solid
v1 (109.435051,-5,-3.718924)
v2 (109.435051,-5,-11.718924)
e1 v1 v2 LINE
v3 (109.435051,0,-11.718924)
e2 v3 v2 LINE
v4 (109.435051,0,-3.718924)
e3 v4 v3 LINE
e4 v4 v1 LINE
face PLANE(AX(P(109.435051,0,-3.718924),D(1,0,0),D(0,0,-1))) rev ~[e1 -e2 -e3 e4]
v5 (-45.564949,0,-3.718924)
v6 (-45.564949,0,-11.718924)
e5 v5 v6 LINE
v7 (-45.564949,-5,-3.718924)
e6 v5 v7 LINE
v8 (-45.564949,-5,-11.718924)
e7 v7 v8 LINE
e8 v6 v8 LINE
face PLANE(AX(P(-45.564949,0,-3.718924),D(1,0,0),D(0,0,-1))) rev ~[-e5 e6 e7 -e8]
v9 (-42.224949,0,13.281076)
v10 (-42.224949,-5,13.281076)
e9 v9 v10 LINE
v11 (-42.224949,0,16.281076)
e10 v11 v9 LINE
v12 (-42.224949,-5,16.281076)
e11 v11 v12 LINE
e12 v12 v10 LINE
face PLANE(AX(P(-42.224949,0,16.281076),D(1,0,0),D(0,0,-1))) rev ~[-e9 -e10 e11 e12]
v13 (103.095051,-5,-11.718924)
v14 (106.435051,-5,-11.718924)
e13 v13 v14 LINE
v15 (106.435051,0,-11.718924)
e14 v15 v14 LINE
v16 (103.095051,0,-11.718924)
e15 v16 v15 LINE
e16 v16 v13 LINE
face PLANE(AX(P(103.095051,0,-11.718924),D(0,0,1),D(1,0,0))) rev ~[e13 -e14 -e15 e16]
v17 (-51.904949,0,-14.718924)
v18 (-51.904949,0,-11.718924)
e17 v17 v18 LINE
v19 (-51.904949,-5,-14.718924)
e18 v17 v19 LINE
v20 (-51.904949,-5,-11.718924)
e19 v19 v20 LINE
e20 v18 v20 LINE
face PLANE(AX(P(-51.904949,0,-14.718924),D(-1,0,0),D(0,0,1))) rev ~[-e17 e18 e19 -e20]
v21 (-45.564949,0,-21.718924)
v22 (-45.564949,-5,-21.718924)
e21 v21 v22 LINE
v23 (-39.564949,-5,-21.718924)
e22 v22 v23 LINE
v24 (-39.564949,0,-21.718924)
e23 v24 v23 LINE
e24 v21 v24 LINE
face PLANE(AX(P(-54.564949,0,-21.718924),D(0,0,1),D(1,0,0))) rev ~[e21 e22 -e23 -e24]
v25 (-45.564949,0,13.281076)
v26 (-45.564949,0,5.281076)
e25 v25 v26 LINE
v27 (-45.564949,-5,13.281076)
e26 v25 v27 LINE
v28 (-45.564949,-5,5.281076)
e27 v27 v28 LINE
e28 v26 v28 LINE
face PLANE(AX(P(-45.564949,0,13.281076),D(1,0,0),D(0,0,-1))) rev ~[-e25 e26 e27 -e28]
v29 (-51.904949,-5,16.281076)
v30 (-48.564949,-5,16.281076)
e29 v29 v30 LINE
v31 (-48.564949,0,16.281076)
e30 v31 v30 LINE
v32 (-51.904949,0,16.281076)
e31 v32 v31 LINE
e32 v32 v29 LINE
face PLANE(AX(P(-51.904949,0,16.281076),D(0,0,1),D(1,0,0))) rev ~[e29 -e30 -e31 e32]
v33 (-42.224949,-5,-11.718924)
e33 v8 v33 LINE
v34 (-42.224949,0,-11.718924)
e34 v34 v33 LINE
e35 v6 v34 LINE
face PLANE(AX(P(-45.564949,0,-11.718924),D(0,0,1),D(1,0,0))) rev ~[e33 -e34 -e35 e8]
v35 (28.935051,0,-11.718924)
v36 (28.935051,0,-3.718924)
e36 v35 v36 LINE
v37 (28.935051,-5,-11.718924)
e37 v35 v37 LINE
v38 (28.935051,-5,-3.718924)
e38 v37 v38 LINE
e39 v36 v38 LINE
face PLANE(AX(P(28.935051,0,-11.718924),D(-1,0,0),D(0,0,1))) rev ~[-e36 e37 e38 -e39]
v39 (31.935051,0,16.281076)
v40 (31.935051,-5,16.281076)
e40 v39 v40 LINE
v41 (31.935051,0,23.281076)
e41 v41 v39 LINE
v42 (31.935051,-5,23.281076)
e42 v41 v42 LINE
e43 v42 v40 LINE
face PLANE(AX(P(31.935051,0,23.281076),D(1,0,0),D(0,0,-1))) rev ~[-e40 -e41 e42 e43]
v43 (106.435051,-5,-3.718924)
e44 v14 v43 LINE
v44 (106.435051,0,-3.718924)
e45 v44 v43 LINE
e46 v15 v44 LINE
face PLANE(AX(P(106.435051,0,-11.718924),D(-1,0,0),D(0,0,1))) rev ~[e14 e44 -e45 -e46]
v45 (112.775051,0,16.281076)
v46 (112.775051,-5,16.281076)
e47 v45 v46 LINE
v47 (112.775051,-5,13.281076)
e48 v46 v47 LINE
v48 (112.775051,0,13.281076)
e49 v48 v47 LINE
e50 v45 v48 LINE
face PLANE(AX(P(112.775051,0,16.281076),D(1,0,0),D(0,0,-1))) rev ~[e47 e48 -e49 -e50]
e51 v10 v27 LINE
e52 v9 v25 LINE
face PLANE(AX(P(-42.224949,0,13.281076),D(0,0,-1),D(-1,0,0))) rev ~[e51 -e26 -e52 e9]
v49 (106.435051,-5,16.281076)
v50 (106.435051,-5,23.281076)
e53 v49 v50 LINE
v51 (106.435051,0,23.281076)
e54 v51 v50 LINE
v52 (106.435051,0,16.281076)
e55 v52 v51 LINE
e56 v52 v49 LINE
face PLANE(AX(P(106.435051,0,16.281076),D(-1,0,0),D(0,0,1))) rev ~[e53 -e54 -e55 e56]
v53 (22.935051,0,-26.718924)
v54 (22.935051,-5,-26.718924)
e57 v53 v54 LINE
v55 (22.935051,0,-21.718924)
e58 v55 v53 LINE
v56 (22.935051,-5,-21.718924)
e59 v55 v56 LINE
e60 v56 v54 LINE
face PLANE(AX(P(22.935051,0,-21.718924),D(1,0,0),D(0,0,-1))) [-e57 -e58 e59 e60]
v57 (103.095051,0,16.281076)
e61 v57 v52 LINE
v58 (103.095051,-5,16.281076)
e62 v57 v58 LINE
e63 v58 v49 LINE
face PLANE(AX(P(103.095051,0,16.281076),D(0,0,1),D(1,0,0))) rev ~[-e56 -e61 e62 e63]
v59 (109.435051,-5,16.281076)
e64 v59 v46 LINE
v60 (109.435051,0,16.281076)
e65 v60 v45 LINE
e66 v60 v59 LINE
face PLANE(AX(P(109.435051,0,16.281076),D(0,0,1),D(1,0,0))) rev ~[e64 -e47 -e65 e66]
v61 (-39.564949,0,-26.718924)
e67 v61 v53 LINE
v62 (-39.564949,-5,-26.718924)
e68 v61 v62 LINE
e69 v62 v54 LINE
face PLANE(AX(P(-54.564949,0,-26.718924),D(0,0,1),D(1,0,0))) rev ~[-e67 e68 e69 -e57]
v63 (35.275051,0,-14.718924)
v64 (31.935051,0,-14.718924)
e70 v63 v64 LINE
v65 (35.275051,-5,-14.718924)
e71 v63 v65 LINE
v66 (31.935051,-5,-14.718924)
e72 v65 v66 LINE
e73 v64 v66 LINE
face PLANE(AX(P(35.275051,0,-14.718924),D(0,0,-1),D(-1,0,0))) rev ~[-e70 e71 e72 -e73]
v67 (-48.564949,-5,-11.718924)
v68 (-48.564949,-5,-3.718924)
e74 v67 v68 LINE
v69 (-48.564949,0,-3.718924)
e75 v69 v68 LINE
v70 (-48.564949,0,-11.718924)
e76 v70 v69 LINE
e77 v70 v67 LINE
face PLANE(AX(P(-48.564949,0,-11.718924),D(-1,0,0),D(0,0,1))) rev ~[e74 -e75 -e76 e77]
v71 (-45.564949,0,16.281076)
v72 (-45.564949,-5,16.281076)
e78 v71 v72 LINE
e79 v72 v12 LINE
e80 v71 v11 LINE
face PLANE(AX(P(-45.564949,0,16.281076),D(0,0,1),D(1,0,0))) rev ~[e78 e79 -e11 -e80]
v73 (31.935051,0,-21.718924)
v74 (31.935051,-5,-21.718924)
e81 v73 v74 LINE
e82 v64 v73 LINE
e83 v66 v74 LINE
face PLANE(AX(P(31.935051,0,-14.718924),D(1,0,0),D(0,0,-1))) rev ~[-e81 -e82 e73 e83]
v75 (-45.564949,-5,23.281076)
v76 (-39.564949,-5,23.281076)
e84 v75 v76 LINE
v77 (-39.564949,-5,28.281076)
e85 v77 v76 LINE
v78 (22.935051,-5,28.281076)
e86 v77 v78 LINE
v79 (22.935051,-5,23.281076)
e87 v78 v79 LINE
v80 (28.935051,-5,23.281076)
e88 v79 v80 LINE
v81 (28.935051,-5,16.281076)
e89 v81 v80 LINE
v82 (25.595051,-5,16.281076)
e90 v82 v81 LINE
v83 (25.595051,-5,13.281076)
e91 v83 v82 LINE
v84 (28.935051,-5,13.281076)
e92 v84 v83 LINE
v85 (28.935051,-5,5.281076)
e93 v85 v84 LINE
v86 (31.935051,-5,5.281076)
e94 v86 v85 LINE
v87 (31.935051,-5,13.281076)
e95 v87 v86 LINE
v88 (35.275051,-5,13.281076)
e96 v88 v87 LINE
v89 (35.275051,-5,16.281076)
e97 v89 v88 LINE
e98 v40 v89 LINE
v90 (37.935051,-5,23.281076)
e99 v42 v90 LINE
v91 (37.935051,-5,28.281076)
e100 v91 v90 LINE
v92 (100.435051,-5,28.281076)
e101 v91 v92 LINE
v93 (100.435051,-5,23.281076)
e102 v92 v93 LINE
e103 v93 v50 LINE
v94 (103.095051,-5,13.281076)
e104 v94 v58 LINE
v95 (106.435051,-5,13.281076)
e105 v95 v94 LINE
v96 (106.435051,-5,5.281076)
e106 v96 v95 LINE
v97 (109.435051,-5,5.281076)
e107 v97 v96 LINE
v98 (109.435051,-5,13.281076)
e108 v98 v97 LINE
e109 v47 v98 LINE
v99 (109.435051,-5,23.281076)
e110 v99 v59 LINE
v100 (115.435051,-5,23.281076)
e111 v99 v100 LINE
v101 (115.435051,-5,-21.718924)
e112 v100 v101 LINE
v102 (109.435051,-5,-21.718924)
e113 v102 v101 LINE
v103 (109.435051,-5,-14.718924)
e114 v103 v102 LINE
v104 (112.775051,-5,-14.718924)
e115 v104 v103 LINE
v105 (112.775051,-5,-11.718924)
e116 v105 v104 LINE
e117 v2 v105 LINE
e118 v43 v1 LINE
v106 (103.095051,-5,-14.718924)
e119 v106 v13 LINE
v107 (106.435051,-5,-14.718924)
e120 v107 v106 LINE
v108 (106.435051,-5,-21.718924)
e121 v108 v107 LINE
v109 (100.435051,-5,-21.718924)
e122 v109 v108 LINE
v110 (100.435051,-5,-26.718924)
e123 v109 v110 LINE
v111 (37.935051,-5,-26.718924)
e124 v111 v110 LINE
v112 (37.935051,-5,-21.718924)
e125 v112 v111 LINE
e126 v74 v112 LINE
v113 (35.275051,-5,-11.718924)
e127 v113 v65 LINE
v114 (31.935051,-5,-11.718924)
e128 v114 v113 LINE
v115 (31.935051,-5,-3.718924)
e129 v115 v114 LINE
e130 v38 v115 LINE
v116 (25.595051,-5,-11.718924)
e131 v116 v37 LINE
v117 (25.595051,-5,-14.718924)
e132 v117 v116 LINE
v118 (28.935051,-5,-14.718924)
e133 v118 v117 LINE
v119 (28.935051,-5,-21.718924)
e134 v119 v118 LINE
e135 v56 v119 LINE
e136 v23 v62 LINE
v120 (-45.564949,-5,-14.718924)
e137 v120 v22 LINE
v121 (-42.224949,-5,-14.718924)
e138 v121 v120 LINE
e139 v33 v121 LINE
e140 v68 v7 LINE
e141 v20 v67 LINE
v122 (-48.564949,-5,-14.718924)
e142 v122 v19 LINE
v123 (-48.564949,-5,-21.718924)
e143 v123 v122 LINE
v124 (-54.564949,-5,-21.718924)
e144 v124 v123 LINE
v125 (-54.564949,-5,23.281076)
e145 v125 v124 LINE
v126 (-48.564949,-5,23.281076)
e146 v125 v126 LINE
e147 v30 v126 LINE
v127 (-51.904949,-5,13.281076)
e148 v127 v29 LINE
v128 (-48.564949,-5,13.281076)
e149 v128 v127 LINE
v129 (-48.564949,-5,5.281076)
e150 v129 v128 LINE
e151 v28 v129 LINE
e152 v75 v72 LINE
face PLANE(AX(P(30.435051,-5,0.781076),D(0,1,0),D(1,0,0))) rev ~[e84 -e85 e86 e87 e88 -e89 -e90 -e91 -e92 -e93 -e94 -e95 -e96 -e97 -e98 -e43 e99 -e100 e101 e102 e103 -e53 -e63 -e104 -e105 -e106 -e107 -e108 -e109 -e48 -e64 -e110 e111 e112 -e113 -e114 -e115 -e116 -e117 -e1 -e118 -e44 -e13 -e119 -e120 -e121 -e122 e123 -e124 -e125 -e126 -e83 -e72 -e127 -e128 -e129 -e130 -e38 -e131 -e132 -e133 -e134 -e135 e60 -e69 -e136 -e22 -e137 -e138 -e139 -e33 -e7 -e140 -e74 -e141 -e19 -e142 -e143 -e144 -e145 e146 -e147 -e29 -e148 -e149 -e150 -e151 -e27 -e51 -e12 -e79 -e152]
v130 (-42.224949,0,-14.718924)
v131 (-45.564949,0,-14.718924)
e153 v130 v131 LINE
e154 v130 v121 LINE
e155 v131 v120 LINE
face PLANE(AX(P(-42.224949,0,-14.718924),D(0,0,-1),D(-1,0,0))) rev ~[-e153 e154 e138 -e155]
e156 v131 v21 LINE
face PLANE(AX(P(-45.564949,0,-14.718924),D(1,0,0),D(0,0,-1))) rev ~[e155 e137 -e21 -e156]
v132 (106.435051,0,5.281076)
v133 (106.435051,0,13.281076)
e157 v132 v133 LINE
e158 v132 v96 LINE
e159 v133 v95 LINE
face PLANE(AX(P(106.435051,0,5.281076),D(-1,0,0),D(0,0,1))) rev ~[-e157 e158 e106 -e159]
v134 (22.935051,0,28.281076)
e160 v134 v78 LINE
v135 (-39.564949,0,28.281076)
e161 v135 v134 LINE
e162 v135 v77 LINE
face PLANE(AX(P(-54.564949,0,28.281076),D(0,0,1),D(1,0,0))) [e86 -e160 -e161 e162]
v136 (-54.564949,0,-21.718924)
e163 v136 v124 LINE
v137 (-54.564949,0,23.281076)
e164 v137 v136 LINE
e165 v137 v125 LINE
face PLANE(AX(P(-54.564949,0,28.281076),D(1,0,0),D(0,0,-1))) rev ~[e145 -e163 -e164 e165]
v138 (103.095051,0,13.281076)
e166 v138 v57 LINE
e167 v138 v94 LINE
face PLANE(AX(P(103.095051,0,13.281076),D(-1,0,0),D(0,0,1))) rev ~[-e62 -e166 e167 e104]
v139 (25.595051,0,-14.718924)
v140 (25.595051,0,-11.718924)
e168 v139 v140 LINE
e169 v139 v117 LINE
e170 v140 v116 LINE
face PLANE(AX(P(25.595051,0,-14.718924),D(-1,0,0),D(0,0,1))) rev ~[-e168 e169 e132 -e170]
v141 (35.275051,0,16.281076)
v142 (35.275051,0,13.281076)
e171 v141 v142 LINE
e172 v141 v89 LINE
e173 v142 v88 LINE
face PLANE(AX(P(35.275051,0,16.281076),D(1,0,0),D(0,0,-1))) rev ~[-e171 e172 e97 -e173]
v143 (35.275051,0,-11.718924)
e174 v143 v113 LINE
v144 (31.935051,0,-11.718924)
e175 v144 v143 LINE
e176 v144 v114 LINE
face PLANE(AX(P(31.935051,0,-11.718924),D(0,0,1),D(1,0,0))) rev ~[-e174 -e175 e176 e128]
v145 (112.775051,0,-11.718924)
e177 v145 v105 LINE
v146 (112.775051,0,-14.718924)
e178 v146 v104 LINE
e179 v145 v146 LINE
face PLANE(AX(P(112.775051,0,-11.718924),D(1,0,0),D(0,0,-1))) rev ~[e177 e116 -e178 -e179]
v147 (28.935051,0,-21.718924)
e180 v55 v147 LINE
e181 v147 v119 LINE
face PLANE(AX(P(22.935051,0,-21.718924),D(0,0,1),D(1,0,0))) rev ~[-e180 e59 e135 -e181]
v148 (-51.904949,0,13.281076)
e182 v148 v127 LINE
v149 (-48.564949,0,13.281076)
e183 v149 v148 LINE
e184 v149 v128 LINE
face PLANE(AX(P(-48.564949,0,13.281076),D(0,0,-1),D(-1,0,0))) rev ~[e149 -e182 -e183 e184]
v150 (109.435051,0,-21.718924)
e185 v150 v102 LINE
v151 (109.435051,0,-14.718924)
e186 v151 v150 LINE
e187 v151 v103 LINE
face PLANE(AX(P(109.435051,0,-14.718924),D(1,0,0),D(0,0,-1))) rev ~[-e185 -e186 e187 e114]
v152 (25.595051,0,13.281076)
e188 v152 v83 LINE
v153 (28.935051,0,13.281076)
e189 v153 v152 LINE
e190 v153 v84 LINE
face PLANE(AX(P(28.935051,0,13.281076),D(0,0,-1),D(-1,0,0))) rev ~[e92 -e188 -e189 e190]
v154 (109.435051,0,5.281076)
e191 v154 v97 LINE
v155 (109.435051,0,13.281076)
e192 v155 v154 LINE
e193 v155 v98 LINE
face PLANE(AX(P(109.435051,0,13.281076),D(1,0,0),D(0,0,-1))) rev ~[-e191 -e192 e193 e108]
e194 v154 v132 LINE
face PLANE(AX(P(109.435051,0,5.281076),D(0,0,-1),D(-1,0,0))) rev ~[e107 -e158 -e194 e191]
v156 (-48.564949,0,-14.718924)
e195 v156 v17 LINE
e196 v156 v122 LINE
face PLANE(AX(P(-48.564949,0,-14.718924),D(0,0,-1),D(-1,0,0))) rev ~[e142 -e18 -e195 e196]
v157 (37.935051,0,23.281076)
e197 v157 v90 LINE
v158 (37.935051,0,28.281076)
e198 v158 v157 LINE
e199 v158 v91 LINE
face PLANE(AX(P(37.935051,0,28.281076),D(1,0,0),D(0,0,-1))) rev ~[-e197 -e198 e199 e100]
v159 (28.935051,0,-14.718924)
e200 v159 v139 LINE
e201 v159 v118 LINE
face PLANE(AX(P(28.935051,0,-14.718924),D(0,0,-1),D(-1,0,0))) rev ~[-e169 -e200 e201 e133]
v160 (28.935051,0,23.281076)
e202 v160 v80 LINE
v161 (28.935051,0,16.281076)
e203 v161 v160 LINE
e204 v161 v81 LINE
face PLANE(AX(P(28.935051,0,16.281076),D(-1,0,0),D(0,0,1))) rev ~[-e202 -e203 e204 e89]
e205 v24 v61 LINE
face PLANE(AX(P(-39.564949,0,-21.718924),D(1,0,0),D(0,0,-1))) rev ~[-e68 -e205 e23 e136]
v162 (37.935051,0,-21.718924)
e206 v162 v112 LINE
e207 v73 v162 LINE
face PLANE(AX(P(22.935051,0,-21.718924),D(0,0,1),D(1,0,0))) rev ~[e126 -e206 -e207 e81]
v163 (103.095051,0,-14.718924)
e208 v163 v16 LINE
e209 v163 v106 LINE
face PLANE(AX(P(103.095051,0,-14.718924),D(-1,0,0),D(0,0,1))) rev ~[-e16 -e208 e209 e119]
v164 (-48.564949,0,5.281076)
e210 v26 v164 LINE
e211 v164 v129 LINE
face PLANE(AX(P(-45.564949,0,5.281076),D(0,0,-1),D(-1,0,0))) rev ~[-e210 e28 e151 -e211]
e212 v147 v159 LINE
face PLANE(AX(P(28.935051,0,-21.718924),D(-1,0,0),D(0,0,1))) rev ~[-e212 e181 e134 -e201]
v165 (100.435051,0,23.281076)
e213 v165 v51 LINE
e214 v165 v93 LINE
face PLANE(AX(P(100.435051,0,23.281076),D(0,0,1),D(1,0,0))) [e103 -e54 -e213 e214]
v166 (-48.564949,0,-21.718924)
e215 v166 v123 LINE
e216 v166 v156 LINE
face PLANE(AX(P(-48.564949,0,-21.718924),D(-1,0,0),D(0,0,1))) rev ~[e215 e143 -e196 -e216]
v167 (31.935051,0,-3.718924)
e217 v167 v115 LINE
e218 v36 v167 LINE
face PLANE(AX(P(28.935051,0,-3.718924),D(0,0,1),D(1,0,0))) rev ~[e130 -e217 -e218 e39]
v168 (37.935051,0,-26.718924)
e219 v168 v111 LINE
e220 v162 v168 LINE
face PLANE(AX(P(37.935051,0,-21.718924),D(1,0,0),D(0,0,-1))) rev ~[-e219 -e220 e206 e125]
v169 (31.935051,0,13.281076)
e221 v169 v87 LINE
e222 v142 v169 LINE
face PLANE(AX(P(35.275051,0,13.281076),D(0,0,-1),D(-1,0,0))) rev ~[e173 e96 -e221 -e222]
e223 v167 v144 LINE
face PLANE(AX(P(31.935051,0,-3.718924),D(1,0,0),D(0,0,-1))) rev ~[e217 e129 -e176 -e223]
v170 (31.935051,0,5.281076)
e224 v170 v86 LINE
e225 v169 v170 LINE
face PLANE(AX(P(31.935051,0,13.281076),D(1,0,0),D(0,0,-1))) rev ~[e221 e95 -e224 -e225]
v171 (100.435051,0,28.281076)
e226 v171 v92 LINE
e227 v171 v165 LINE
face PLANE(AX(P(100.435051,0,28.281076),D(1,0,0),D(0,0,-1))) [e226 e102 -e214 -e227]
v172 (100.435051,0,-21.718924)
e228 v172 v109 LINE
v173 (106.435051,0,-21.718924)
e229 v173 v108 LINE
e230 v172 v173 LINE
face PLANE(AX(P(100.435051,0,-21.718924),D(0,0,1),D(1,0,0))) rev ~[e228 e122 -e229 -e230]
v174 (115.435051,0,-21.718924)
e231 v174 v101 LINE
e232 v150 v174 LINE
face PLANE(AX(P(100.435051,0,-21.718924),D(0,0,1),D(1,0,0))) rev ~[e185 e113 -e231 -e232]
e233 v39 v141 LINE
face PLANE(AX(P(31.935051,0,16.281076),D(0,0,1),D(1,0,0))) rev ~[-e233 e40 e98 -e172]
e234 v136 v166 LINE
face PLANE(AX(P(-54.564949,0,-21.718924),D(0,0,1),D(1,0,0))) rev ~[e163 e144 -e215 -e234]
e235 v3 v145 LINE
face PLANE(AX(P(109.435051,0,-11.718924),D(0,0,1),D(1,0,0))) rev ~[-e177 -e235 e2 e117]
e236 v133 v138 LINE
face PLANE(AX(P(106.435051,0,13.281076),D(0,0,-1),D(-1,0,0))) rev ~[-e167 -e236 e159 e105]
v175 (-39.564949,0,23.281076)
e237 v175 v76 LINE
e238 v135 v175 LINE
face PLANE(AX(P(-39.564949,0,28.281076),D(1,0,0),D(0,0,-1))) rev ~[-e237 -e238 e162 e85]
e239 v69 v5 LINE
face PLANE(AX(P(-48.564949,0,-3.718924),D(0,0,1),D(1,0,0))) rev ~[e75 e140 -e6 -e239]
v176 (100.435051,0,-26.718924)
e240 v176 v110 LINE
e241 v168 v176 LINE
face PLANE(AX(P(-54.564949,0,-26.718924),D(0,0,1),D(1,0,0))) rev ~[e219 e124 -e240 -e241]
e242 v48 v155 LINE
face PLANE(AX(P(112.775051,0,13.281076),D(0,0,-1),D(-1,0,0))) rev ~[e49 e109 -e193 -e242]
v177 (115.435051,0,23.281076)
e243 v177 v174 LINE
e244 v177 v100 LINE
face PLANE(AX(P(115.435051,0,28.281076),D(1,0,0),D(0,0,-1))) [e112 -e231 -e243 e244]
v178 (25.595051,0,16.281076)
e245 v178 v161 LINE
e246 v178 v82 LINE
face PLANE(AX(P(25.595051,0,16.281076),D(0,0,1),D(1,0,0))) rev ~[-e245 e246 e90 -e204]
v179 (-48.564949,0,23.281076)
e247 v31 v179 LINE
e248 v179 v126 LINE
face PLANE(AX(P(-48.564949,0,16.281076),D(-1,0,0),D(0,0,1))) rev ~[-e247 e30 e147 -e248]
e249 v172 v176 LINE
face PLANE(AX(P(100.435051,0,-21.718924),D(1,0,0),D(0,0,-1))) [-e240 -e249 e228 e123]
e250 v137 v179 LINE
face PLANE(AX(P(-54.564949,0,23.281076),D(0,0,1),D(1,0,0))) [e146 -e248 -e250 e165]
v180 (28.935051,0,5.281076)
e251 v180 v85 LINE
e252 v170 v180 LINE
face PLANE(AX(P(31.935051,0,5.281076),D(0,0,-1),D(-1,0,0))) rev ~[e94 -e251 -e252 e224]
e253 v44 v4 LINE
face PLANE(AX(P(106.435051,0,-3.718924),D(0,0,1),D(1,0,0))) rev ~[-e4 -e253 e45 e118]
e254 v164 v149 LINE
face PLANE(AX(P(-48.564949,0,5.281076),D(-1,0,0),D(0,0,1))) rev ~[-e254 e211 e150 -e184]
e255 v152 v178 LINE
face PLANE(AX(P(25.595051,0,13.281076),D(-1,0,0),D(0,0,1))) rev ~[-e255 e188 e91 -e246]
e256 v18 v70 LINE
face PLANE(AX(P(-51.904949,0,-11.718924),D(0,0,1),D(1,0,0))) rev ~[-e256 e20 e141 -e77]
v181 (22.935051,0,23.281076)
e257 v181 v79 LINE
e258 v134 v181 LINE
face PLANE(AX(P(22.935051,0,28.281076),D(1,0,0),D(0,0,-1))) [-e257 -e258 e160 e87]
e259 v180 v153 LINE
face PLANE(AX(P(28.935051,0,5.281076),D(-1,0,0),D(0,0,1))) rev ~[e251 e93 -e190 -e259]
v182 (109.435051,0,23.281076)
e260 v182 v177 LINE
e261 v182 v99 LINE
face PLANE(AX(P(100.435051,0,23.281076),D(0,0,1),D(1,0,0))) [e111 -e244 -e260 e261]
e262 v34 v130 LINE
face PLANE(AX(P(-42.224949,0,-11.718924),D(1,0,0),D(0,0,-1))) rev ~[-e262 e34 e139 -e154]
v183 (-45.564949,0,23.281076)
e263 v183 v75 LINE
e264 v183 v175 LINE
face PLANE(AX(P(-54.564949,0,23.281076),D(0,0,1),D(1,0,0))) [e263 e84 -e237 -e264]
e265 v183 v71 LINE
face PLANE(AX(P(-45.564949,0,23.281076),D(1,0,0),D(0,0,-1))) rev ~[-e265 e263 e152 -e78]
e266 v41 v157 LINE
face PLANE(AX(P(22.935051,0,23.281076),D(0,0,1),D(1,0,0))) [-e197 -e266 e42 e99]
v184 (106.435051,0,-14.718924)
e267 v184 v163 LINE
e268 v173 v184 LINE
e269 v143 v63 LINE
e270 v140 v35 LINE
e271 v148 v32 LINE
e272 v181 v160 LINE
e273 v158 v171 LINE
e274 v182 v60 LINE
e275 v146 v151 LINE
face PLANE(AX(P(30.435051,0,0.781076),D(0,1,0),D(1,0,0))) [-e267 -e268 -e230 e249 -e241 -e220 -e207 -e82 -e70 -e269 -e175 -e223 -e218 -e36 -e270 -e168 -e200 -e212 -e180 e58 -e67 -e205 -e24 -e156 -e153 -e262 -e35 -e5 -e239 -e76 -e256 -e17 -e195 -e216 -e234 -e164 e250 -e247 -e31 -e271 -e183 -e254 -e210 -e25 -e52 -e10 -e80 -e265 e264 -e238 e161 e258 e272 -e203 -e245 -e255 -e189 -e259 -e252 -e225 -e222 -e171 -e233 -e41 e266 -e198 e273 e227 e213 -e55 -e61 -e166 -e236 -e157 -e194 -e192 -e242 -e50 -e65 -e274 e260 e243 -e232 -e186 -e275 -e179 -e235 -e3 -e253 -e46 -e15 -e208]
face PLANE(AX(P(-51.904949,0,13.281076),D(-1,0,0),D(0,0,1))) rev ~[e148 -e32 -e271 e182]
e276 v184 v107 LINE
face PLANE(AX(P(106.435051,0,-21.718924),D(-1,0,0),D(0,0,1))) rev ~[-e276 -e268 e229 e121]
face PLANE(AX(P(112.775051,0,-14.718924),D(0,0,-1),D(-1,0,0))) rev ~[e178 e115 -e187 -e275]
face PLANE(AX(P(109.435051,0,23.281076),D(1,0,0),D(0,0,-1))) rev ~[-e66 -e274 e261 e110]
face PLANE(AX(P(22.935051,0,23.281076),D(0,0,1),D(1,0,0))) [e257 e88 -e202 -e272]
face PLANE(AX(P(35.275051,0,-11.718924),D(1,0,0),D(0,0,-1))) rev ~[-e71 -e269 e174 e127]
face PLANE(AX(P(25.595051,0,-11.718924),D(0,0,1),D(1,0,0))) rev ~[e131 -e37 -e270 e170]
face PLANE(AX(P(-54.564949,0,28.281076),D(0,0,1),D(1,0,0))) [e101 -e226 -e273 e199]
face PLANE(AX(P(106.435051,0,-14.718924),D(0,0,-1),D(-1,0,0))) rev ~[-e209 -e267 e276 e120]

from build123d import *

# Parameters (mm, degrees)
SCHIZZO1_W                   = 170
SCHIZZO1_H                   = 55
ESTRUSIONE_ESTRUSIONE2_DEPTH = 5
SCHIZZO2_W                   = 15
SCHIZZO2_H                   = 5
TAGLIO_ESTRUSIONE1_DEPTH     = 6
TAGLIO_ESTRUSIONE3_DEPTH     = 6


with BuildPart() as part:
    # Schizzo1 → Estrusione-Estrusione2 (new body)
    with BuildSketch(Plane(origin=(0, 0, 0), x_dir=(1, 0, 0), z_dir=(0, 1, 0))):
        with Locations((30.43505086, -0.781075862)):
            Rectangle(SCHIZZO1_W, SCHIZZO1_H)
    extrude(amount=-ESTRUSIONE_ESTRUSIONE2_DEPTH)

    # Schizzo2 → Taglio-Estrusione1 (cut, through all)
    with BuildSketch(Plane(origin=(0, 0, 0), x_dir=(1, 0, 0), z_dir=(0, 1, 0))):
        with Locations((-47.06494914, -25.781075862)):
            Rectangle(SCHIZZO2_W, SCHIZZO2_H)
        with Locations((-47.06494914, 24.218924138)):
            Rectangle(SCHIZZO2_W, SCHIZZO2_H)
        with Locations((107.93505086, -25.781075862)):
            Rectangle(SCHIZZO2_W, SCHIZZO2_H)
        with Locations((107.93505086, 24.218924138)):
            Rectangle(SCHIZZO2_W, SCHIZZO2_H)
        with Locations((30.43505086, -25.781075862)):
            Rectangle(SCHIZZO2_W, SCHIZZO2_H)
        with Locations((30.43505086, 24.218924138)):
            Rectangle(SCHIZZO2_W, SCHIZZO2_H)
    extrude(amount=-TAGLIO_ESTRUSIONE1_DEPTH, mode=Mode.SUBTRACT)

    # Schizzo3 → Taglio-Estrusione3 (cut, through all)
    with BuildSketch(Plane(origin=(0, 0, 0), x_dir=(1, 0, 0), z_dir=(0, 1, 0))):
        Polygon((-48.56494914, -23.281075862), (-45.56494914, -23.281075862), (-45.56494914, -16.281075862), (-42.22494914, -16.281075862), (-42.22494914, -13.281075862), (-45.56494914, -13.281075862), (-45.56494914, -5.281075862), (-48.56494914, -5.281075862), (-48.56494914, -13.281075862), (-51.90494914, -13.281075862), (-51.90494914, -16.281075862), (-48.56494914, -16.281075862), align=None)
        Polygon((28.93505086, -23.281075862), (31.93505086, -23.281075862), (31.93505086, -16.281075862), (35.27505086, -16.281075862), (35.27505086, -13.281075862), (31.93505086, -13.281075862), (31.93505086, -5.281075862), (28.93505086, -5.281075862), (28.93505086, -13.281075862), (25.59505086, -13.281075862), (25.59505086, -16.281075862), (28.93505086, -16.281075862), align=None)
        Polygon((106.43505086, -23.281075862), (109.43505086, -23.281075862), (109.43505086, -16.281075862), (112.77505086, -16.281075862), (112.77505086, -13.281075862), (109.43505086, -13.281075862), (109.43505086, -5.281075862), (106.43505086, -5.281075862), (106.43505086, -13.281075862), (103.09505086, -13.281075862), (103.09505086, -16.281075862), (106.43505086, -16.281075862), align=None)
        Polygon((106.43505086, 3.718924138), (109.43505086, 3.718924138), (109.43505086, 11.718924138), (112.77505086, 11.718924138), (112.77505086, 14.718924138), (109.43505086, 14.718924138), (109.43505086, 21.718924138), (106.43505086, 21.718924138), (106.43505086, 14.718924138), (103.09505086, 14.718924138), (103.09505086, 11.718924138), (106.43505086, 11.718924138), align=None)
        Polygon((28.93505086, 3.718924138), (31.93505086, 3.718924138), (31.93505086, 11.718924138), (35.27505086, 11.718924138), (35.27505086, 14.718924138), (31.93505086, 14.718924138), (31.93505086, 21.718924138), (28.93505086, 21.718924138), (28.93505086, 14.718924138), (25.59505086, 14.718924138), (25.59505086, 11.718924138), (28.93505086, 11.718924138), align=None)
        Polygon((-48.56494914, 3.718924138), (-45.56494914, 3.718924138), (-45.56494914, 11.718924138), (-42.22494914, 11.718924138), (-42.22494914, 14.718924138), (-45.56494914, 14.718924138), (-45.56494914, 21.718924138), (-48.56494914, 21.718924138), (-48.56494914, 14.718924138), (-51.90494914, 14.718924138), (-51.90494914, 11.718924138), (-48.56494914, 11.718924138), align=None)
    extrude(amount=-TAGLIO_ESTRUSIONE3_DEPTH, mode=Mode.SUBTRACT)


solid = part.part
